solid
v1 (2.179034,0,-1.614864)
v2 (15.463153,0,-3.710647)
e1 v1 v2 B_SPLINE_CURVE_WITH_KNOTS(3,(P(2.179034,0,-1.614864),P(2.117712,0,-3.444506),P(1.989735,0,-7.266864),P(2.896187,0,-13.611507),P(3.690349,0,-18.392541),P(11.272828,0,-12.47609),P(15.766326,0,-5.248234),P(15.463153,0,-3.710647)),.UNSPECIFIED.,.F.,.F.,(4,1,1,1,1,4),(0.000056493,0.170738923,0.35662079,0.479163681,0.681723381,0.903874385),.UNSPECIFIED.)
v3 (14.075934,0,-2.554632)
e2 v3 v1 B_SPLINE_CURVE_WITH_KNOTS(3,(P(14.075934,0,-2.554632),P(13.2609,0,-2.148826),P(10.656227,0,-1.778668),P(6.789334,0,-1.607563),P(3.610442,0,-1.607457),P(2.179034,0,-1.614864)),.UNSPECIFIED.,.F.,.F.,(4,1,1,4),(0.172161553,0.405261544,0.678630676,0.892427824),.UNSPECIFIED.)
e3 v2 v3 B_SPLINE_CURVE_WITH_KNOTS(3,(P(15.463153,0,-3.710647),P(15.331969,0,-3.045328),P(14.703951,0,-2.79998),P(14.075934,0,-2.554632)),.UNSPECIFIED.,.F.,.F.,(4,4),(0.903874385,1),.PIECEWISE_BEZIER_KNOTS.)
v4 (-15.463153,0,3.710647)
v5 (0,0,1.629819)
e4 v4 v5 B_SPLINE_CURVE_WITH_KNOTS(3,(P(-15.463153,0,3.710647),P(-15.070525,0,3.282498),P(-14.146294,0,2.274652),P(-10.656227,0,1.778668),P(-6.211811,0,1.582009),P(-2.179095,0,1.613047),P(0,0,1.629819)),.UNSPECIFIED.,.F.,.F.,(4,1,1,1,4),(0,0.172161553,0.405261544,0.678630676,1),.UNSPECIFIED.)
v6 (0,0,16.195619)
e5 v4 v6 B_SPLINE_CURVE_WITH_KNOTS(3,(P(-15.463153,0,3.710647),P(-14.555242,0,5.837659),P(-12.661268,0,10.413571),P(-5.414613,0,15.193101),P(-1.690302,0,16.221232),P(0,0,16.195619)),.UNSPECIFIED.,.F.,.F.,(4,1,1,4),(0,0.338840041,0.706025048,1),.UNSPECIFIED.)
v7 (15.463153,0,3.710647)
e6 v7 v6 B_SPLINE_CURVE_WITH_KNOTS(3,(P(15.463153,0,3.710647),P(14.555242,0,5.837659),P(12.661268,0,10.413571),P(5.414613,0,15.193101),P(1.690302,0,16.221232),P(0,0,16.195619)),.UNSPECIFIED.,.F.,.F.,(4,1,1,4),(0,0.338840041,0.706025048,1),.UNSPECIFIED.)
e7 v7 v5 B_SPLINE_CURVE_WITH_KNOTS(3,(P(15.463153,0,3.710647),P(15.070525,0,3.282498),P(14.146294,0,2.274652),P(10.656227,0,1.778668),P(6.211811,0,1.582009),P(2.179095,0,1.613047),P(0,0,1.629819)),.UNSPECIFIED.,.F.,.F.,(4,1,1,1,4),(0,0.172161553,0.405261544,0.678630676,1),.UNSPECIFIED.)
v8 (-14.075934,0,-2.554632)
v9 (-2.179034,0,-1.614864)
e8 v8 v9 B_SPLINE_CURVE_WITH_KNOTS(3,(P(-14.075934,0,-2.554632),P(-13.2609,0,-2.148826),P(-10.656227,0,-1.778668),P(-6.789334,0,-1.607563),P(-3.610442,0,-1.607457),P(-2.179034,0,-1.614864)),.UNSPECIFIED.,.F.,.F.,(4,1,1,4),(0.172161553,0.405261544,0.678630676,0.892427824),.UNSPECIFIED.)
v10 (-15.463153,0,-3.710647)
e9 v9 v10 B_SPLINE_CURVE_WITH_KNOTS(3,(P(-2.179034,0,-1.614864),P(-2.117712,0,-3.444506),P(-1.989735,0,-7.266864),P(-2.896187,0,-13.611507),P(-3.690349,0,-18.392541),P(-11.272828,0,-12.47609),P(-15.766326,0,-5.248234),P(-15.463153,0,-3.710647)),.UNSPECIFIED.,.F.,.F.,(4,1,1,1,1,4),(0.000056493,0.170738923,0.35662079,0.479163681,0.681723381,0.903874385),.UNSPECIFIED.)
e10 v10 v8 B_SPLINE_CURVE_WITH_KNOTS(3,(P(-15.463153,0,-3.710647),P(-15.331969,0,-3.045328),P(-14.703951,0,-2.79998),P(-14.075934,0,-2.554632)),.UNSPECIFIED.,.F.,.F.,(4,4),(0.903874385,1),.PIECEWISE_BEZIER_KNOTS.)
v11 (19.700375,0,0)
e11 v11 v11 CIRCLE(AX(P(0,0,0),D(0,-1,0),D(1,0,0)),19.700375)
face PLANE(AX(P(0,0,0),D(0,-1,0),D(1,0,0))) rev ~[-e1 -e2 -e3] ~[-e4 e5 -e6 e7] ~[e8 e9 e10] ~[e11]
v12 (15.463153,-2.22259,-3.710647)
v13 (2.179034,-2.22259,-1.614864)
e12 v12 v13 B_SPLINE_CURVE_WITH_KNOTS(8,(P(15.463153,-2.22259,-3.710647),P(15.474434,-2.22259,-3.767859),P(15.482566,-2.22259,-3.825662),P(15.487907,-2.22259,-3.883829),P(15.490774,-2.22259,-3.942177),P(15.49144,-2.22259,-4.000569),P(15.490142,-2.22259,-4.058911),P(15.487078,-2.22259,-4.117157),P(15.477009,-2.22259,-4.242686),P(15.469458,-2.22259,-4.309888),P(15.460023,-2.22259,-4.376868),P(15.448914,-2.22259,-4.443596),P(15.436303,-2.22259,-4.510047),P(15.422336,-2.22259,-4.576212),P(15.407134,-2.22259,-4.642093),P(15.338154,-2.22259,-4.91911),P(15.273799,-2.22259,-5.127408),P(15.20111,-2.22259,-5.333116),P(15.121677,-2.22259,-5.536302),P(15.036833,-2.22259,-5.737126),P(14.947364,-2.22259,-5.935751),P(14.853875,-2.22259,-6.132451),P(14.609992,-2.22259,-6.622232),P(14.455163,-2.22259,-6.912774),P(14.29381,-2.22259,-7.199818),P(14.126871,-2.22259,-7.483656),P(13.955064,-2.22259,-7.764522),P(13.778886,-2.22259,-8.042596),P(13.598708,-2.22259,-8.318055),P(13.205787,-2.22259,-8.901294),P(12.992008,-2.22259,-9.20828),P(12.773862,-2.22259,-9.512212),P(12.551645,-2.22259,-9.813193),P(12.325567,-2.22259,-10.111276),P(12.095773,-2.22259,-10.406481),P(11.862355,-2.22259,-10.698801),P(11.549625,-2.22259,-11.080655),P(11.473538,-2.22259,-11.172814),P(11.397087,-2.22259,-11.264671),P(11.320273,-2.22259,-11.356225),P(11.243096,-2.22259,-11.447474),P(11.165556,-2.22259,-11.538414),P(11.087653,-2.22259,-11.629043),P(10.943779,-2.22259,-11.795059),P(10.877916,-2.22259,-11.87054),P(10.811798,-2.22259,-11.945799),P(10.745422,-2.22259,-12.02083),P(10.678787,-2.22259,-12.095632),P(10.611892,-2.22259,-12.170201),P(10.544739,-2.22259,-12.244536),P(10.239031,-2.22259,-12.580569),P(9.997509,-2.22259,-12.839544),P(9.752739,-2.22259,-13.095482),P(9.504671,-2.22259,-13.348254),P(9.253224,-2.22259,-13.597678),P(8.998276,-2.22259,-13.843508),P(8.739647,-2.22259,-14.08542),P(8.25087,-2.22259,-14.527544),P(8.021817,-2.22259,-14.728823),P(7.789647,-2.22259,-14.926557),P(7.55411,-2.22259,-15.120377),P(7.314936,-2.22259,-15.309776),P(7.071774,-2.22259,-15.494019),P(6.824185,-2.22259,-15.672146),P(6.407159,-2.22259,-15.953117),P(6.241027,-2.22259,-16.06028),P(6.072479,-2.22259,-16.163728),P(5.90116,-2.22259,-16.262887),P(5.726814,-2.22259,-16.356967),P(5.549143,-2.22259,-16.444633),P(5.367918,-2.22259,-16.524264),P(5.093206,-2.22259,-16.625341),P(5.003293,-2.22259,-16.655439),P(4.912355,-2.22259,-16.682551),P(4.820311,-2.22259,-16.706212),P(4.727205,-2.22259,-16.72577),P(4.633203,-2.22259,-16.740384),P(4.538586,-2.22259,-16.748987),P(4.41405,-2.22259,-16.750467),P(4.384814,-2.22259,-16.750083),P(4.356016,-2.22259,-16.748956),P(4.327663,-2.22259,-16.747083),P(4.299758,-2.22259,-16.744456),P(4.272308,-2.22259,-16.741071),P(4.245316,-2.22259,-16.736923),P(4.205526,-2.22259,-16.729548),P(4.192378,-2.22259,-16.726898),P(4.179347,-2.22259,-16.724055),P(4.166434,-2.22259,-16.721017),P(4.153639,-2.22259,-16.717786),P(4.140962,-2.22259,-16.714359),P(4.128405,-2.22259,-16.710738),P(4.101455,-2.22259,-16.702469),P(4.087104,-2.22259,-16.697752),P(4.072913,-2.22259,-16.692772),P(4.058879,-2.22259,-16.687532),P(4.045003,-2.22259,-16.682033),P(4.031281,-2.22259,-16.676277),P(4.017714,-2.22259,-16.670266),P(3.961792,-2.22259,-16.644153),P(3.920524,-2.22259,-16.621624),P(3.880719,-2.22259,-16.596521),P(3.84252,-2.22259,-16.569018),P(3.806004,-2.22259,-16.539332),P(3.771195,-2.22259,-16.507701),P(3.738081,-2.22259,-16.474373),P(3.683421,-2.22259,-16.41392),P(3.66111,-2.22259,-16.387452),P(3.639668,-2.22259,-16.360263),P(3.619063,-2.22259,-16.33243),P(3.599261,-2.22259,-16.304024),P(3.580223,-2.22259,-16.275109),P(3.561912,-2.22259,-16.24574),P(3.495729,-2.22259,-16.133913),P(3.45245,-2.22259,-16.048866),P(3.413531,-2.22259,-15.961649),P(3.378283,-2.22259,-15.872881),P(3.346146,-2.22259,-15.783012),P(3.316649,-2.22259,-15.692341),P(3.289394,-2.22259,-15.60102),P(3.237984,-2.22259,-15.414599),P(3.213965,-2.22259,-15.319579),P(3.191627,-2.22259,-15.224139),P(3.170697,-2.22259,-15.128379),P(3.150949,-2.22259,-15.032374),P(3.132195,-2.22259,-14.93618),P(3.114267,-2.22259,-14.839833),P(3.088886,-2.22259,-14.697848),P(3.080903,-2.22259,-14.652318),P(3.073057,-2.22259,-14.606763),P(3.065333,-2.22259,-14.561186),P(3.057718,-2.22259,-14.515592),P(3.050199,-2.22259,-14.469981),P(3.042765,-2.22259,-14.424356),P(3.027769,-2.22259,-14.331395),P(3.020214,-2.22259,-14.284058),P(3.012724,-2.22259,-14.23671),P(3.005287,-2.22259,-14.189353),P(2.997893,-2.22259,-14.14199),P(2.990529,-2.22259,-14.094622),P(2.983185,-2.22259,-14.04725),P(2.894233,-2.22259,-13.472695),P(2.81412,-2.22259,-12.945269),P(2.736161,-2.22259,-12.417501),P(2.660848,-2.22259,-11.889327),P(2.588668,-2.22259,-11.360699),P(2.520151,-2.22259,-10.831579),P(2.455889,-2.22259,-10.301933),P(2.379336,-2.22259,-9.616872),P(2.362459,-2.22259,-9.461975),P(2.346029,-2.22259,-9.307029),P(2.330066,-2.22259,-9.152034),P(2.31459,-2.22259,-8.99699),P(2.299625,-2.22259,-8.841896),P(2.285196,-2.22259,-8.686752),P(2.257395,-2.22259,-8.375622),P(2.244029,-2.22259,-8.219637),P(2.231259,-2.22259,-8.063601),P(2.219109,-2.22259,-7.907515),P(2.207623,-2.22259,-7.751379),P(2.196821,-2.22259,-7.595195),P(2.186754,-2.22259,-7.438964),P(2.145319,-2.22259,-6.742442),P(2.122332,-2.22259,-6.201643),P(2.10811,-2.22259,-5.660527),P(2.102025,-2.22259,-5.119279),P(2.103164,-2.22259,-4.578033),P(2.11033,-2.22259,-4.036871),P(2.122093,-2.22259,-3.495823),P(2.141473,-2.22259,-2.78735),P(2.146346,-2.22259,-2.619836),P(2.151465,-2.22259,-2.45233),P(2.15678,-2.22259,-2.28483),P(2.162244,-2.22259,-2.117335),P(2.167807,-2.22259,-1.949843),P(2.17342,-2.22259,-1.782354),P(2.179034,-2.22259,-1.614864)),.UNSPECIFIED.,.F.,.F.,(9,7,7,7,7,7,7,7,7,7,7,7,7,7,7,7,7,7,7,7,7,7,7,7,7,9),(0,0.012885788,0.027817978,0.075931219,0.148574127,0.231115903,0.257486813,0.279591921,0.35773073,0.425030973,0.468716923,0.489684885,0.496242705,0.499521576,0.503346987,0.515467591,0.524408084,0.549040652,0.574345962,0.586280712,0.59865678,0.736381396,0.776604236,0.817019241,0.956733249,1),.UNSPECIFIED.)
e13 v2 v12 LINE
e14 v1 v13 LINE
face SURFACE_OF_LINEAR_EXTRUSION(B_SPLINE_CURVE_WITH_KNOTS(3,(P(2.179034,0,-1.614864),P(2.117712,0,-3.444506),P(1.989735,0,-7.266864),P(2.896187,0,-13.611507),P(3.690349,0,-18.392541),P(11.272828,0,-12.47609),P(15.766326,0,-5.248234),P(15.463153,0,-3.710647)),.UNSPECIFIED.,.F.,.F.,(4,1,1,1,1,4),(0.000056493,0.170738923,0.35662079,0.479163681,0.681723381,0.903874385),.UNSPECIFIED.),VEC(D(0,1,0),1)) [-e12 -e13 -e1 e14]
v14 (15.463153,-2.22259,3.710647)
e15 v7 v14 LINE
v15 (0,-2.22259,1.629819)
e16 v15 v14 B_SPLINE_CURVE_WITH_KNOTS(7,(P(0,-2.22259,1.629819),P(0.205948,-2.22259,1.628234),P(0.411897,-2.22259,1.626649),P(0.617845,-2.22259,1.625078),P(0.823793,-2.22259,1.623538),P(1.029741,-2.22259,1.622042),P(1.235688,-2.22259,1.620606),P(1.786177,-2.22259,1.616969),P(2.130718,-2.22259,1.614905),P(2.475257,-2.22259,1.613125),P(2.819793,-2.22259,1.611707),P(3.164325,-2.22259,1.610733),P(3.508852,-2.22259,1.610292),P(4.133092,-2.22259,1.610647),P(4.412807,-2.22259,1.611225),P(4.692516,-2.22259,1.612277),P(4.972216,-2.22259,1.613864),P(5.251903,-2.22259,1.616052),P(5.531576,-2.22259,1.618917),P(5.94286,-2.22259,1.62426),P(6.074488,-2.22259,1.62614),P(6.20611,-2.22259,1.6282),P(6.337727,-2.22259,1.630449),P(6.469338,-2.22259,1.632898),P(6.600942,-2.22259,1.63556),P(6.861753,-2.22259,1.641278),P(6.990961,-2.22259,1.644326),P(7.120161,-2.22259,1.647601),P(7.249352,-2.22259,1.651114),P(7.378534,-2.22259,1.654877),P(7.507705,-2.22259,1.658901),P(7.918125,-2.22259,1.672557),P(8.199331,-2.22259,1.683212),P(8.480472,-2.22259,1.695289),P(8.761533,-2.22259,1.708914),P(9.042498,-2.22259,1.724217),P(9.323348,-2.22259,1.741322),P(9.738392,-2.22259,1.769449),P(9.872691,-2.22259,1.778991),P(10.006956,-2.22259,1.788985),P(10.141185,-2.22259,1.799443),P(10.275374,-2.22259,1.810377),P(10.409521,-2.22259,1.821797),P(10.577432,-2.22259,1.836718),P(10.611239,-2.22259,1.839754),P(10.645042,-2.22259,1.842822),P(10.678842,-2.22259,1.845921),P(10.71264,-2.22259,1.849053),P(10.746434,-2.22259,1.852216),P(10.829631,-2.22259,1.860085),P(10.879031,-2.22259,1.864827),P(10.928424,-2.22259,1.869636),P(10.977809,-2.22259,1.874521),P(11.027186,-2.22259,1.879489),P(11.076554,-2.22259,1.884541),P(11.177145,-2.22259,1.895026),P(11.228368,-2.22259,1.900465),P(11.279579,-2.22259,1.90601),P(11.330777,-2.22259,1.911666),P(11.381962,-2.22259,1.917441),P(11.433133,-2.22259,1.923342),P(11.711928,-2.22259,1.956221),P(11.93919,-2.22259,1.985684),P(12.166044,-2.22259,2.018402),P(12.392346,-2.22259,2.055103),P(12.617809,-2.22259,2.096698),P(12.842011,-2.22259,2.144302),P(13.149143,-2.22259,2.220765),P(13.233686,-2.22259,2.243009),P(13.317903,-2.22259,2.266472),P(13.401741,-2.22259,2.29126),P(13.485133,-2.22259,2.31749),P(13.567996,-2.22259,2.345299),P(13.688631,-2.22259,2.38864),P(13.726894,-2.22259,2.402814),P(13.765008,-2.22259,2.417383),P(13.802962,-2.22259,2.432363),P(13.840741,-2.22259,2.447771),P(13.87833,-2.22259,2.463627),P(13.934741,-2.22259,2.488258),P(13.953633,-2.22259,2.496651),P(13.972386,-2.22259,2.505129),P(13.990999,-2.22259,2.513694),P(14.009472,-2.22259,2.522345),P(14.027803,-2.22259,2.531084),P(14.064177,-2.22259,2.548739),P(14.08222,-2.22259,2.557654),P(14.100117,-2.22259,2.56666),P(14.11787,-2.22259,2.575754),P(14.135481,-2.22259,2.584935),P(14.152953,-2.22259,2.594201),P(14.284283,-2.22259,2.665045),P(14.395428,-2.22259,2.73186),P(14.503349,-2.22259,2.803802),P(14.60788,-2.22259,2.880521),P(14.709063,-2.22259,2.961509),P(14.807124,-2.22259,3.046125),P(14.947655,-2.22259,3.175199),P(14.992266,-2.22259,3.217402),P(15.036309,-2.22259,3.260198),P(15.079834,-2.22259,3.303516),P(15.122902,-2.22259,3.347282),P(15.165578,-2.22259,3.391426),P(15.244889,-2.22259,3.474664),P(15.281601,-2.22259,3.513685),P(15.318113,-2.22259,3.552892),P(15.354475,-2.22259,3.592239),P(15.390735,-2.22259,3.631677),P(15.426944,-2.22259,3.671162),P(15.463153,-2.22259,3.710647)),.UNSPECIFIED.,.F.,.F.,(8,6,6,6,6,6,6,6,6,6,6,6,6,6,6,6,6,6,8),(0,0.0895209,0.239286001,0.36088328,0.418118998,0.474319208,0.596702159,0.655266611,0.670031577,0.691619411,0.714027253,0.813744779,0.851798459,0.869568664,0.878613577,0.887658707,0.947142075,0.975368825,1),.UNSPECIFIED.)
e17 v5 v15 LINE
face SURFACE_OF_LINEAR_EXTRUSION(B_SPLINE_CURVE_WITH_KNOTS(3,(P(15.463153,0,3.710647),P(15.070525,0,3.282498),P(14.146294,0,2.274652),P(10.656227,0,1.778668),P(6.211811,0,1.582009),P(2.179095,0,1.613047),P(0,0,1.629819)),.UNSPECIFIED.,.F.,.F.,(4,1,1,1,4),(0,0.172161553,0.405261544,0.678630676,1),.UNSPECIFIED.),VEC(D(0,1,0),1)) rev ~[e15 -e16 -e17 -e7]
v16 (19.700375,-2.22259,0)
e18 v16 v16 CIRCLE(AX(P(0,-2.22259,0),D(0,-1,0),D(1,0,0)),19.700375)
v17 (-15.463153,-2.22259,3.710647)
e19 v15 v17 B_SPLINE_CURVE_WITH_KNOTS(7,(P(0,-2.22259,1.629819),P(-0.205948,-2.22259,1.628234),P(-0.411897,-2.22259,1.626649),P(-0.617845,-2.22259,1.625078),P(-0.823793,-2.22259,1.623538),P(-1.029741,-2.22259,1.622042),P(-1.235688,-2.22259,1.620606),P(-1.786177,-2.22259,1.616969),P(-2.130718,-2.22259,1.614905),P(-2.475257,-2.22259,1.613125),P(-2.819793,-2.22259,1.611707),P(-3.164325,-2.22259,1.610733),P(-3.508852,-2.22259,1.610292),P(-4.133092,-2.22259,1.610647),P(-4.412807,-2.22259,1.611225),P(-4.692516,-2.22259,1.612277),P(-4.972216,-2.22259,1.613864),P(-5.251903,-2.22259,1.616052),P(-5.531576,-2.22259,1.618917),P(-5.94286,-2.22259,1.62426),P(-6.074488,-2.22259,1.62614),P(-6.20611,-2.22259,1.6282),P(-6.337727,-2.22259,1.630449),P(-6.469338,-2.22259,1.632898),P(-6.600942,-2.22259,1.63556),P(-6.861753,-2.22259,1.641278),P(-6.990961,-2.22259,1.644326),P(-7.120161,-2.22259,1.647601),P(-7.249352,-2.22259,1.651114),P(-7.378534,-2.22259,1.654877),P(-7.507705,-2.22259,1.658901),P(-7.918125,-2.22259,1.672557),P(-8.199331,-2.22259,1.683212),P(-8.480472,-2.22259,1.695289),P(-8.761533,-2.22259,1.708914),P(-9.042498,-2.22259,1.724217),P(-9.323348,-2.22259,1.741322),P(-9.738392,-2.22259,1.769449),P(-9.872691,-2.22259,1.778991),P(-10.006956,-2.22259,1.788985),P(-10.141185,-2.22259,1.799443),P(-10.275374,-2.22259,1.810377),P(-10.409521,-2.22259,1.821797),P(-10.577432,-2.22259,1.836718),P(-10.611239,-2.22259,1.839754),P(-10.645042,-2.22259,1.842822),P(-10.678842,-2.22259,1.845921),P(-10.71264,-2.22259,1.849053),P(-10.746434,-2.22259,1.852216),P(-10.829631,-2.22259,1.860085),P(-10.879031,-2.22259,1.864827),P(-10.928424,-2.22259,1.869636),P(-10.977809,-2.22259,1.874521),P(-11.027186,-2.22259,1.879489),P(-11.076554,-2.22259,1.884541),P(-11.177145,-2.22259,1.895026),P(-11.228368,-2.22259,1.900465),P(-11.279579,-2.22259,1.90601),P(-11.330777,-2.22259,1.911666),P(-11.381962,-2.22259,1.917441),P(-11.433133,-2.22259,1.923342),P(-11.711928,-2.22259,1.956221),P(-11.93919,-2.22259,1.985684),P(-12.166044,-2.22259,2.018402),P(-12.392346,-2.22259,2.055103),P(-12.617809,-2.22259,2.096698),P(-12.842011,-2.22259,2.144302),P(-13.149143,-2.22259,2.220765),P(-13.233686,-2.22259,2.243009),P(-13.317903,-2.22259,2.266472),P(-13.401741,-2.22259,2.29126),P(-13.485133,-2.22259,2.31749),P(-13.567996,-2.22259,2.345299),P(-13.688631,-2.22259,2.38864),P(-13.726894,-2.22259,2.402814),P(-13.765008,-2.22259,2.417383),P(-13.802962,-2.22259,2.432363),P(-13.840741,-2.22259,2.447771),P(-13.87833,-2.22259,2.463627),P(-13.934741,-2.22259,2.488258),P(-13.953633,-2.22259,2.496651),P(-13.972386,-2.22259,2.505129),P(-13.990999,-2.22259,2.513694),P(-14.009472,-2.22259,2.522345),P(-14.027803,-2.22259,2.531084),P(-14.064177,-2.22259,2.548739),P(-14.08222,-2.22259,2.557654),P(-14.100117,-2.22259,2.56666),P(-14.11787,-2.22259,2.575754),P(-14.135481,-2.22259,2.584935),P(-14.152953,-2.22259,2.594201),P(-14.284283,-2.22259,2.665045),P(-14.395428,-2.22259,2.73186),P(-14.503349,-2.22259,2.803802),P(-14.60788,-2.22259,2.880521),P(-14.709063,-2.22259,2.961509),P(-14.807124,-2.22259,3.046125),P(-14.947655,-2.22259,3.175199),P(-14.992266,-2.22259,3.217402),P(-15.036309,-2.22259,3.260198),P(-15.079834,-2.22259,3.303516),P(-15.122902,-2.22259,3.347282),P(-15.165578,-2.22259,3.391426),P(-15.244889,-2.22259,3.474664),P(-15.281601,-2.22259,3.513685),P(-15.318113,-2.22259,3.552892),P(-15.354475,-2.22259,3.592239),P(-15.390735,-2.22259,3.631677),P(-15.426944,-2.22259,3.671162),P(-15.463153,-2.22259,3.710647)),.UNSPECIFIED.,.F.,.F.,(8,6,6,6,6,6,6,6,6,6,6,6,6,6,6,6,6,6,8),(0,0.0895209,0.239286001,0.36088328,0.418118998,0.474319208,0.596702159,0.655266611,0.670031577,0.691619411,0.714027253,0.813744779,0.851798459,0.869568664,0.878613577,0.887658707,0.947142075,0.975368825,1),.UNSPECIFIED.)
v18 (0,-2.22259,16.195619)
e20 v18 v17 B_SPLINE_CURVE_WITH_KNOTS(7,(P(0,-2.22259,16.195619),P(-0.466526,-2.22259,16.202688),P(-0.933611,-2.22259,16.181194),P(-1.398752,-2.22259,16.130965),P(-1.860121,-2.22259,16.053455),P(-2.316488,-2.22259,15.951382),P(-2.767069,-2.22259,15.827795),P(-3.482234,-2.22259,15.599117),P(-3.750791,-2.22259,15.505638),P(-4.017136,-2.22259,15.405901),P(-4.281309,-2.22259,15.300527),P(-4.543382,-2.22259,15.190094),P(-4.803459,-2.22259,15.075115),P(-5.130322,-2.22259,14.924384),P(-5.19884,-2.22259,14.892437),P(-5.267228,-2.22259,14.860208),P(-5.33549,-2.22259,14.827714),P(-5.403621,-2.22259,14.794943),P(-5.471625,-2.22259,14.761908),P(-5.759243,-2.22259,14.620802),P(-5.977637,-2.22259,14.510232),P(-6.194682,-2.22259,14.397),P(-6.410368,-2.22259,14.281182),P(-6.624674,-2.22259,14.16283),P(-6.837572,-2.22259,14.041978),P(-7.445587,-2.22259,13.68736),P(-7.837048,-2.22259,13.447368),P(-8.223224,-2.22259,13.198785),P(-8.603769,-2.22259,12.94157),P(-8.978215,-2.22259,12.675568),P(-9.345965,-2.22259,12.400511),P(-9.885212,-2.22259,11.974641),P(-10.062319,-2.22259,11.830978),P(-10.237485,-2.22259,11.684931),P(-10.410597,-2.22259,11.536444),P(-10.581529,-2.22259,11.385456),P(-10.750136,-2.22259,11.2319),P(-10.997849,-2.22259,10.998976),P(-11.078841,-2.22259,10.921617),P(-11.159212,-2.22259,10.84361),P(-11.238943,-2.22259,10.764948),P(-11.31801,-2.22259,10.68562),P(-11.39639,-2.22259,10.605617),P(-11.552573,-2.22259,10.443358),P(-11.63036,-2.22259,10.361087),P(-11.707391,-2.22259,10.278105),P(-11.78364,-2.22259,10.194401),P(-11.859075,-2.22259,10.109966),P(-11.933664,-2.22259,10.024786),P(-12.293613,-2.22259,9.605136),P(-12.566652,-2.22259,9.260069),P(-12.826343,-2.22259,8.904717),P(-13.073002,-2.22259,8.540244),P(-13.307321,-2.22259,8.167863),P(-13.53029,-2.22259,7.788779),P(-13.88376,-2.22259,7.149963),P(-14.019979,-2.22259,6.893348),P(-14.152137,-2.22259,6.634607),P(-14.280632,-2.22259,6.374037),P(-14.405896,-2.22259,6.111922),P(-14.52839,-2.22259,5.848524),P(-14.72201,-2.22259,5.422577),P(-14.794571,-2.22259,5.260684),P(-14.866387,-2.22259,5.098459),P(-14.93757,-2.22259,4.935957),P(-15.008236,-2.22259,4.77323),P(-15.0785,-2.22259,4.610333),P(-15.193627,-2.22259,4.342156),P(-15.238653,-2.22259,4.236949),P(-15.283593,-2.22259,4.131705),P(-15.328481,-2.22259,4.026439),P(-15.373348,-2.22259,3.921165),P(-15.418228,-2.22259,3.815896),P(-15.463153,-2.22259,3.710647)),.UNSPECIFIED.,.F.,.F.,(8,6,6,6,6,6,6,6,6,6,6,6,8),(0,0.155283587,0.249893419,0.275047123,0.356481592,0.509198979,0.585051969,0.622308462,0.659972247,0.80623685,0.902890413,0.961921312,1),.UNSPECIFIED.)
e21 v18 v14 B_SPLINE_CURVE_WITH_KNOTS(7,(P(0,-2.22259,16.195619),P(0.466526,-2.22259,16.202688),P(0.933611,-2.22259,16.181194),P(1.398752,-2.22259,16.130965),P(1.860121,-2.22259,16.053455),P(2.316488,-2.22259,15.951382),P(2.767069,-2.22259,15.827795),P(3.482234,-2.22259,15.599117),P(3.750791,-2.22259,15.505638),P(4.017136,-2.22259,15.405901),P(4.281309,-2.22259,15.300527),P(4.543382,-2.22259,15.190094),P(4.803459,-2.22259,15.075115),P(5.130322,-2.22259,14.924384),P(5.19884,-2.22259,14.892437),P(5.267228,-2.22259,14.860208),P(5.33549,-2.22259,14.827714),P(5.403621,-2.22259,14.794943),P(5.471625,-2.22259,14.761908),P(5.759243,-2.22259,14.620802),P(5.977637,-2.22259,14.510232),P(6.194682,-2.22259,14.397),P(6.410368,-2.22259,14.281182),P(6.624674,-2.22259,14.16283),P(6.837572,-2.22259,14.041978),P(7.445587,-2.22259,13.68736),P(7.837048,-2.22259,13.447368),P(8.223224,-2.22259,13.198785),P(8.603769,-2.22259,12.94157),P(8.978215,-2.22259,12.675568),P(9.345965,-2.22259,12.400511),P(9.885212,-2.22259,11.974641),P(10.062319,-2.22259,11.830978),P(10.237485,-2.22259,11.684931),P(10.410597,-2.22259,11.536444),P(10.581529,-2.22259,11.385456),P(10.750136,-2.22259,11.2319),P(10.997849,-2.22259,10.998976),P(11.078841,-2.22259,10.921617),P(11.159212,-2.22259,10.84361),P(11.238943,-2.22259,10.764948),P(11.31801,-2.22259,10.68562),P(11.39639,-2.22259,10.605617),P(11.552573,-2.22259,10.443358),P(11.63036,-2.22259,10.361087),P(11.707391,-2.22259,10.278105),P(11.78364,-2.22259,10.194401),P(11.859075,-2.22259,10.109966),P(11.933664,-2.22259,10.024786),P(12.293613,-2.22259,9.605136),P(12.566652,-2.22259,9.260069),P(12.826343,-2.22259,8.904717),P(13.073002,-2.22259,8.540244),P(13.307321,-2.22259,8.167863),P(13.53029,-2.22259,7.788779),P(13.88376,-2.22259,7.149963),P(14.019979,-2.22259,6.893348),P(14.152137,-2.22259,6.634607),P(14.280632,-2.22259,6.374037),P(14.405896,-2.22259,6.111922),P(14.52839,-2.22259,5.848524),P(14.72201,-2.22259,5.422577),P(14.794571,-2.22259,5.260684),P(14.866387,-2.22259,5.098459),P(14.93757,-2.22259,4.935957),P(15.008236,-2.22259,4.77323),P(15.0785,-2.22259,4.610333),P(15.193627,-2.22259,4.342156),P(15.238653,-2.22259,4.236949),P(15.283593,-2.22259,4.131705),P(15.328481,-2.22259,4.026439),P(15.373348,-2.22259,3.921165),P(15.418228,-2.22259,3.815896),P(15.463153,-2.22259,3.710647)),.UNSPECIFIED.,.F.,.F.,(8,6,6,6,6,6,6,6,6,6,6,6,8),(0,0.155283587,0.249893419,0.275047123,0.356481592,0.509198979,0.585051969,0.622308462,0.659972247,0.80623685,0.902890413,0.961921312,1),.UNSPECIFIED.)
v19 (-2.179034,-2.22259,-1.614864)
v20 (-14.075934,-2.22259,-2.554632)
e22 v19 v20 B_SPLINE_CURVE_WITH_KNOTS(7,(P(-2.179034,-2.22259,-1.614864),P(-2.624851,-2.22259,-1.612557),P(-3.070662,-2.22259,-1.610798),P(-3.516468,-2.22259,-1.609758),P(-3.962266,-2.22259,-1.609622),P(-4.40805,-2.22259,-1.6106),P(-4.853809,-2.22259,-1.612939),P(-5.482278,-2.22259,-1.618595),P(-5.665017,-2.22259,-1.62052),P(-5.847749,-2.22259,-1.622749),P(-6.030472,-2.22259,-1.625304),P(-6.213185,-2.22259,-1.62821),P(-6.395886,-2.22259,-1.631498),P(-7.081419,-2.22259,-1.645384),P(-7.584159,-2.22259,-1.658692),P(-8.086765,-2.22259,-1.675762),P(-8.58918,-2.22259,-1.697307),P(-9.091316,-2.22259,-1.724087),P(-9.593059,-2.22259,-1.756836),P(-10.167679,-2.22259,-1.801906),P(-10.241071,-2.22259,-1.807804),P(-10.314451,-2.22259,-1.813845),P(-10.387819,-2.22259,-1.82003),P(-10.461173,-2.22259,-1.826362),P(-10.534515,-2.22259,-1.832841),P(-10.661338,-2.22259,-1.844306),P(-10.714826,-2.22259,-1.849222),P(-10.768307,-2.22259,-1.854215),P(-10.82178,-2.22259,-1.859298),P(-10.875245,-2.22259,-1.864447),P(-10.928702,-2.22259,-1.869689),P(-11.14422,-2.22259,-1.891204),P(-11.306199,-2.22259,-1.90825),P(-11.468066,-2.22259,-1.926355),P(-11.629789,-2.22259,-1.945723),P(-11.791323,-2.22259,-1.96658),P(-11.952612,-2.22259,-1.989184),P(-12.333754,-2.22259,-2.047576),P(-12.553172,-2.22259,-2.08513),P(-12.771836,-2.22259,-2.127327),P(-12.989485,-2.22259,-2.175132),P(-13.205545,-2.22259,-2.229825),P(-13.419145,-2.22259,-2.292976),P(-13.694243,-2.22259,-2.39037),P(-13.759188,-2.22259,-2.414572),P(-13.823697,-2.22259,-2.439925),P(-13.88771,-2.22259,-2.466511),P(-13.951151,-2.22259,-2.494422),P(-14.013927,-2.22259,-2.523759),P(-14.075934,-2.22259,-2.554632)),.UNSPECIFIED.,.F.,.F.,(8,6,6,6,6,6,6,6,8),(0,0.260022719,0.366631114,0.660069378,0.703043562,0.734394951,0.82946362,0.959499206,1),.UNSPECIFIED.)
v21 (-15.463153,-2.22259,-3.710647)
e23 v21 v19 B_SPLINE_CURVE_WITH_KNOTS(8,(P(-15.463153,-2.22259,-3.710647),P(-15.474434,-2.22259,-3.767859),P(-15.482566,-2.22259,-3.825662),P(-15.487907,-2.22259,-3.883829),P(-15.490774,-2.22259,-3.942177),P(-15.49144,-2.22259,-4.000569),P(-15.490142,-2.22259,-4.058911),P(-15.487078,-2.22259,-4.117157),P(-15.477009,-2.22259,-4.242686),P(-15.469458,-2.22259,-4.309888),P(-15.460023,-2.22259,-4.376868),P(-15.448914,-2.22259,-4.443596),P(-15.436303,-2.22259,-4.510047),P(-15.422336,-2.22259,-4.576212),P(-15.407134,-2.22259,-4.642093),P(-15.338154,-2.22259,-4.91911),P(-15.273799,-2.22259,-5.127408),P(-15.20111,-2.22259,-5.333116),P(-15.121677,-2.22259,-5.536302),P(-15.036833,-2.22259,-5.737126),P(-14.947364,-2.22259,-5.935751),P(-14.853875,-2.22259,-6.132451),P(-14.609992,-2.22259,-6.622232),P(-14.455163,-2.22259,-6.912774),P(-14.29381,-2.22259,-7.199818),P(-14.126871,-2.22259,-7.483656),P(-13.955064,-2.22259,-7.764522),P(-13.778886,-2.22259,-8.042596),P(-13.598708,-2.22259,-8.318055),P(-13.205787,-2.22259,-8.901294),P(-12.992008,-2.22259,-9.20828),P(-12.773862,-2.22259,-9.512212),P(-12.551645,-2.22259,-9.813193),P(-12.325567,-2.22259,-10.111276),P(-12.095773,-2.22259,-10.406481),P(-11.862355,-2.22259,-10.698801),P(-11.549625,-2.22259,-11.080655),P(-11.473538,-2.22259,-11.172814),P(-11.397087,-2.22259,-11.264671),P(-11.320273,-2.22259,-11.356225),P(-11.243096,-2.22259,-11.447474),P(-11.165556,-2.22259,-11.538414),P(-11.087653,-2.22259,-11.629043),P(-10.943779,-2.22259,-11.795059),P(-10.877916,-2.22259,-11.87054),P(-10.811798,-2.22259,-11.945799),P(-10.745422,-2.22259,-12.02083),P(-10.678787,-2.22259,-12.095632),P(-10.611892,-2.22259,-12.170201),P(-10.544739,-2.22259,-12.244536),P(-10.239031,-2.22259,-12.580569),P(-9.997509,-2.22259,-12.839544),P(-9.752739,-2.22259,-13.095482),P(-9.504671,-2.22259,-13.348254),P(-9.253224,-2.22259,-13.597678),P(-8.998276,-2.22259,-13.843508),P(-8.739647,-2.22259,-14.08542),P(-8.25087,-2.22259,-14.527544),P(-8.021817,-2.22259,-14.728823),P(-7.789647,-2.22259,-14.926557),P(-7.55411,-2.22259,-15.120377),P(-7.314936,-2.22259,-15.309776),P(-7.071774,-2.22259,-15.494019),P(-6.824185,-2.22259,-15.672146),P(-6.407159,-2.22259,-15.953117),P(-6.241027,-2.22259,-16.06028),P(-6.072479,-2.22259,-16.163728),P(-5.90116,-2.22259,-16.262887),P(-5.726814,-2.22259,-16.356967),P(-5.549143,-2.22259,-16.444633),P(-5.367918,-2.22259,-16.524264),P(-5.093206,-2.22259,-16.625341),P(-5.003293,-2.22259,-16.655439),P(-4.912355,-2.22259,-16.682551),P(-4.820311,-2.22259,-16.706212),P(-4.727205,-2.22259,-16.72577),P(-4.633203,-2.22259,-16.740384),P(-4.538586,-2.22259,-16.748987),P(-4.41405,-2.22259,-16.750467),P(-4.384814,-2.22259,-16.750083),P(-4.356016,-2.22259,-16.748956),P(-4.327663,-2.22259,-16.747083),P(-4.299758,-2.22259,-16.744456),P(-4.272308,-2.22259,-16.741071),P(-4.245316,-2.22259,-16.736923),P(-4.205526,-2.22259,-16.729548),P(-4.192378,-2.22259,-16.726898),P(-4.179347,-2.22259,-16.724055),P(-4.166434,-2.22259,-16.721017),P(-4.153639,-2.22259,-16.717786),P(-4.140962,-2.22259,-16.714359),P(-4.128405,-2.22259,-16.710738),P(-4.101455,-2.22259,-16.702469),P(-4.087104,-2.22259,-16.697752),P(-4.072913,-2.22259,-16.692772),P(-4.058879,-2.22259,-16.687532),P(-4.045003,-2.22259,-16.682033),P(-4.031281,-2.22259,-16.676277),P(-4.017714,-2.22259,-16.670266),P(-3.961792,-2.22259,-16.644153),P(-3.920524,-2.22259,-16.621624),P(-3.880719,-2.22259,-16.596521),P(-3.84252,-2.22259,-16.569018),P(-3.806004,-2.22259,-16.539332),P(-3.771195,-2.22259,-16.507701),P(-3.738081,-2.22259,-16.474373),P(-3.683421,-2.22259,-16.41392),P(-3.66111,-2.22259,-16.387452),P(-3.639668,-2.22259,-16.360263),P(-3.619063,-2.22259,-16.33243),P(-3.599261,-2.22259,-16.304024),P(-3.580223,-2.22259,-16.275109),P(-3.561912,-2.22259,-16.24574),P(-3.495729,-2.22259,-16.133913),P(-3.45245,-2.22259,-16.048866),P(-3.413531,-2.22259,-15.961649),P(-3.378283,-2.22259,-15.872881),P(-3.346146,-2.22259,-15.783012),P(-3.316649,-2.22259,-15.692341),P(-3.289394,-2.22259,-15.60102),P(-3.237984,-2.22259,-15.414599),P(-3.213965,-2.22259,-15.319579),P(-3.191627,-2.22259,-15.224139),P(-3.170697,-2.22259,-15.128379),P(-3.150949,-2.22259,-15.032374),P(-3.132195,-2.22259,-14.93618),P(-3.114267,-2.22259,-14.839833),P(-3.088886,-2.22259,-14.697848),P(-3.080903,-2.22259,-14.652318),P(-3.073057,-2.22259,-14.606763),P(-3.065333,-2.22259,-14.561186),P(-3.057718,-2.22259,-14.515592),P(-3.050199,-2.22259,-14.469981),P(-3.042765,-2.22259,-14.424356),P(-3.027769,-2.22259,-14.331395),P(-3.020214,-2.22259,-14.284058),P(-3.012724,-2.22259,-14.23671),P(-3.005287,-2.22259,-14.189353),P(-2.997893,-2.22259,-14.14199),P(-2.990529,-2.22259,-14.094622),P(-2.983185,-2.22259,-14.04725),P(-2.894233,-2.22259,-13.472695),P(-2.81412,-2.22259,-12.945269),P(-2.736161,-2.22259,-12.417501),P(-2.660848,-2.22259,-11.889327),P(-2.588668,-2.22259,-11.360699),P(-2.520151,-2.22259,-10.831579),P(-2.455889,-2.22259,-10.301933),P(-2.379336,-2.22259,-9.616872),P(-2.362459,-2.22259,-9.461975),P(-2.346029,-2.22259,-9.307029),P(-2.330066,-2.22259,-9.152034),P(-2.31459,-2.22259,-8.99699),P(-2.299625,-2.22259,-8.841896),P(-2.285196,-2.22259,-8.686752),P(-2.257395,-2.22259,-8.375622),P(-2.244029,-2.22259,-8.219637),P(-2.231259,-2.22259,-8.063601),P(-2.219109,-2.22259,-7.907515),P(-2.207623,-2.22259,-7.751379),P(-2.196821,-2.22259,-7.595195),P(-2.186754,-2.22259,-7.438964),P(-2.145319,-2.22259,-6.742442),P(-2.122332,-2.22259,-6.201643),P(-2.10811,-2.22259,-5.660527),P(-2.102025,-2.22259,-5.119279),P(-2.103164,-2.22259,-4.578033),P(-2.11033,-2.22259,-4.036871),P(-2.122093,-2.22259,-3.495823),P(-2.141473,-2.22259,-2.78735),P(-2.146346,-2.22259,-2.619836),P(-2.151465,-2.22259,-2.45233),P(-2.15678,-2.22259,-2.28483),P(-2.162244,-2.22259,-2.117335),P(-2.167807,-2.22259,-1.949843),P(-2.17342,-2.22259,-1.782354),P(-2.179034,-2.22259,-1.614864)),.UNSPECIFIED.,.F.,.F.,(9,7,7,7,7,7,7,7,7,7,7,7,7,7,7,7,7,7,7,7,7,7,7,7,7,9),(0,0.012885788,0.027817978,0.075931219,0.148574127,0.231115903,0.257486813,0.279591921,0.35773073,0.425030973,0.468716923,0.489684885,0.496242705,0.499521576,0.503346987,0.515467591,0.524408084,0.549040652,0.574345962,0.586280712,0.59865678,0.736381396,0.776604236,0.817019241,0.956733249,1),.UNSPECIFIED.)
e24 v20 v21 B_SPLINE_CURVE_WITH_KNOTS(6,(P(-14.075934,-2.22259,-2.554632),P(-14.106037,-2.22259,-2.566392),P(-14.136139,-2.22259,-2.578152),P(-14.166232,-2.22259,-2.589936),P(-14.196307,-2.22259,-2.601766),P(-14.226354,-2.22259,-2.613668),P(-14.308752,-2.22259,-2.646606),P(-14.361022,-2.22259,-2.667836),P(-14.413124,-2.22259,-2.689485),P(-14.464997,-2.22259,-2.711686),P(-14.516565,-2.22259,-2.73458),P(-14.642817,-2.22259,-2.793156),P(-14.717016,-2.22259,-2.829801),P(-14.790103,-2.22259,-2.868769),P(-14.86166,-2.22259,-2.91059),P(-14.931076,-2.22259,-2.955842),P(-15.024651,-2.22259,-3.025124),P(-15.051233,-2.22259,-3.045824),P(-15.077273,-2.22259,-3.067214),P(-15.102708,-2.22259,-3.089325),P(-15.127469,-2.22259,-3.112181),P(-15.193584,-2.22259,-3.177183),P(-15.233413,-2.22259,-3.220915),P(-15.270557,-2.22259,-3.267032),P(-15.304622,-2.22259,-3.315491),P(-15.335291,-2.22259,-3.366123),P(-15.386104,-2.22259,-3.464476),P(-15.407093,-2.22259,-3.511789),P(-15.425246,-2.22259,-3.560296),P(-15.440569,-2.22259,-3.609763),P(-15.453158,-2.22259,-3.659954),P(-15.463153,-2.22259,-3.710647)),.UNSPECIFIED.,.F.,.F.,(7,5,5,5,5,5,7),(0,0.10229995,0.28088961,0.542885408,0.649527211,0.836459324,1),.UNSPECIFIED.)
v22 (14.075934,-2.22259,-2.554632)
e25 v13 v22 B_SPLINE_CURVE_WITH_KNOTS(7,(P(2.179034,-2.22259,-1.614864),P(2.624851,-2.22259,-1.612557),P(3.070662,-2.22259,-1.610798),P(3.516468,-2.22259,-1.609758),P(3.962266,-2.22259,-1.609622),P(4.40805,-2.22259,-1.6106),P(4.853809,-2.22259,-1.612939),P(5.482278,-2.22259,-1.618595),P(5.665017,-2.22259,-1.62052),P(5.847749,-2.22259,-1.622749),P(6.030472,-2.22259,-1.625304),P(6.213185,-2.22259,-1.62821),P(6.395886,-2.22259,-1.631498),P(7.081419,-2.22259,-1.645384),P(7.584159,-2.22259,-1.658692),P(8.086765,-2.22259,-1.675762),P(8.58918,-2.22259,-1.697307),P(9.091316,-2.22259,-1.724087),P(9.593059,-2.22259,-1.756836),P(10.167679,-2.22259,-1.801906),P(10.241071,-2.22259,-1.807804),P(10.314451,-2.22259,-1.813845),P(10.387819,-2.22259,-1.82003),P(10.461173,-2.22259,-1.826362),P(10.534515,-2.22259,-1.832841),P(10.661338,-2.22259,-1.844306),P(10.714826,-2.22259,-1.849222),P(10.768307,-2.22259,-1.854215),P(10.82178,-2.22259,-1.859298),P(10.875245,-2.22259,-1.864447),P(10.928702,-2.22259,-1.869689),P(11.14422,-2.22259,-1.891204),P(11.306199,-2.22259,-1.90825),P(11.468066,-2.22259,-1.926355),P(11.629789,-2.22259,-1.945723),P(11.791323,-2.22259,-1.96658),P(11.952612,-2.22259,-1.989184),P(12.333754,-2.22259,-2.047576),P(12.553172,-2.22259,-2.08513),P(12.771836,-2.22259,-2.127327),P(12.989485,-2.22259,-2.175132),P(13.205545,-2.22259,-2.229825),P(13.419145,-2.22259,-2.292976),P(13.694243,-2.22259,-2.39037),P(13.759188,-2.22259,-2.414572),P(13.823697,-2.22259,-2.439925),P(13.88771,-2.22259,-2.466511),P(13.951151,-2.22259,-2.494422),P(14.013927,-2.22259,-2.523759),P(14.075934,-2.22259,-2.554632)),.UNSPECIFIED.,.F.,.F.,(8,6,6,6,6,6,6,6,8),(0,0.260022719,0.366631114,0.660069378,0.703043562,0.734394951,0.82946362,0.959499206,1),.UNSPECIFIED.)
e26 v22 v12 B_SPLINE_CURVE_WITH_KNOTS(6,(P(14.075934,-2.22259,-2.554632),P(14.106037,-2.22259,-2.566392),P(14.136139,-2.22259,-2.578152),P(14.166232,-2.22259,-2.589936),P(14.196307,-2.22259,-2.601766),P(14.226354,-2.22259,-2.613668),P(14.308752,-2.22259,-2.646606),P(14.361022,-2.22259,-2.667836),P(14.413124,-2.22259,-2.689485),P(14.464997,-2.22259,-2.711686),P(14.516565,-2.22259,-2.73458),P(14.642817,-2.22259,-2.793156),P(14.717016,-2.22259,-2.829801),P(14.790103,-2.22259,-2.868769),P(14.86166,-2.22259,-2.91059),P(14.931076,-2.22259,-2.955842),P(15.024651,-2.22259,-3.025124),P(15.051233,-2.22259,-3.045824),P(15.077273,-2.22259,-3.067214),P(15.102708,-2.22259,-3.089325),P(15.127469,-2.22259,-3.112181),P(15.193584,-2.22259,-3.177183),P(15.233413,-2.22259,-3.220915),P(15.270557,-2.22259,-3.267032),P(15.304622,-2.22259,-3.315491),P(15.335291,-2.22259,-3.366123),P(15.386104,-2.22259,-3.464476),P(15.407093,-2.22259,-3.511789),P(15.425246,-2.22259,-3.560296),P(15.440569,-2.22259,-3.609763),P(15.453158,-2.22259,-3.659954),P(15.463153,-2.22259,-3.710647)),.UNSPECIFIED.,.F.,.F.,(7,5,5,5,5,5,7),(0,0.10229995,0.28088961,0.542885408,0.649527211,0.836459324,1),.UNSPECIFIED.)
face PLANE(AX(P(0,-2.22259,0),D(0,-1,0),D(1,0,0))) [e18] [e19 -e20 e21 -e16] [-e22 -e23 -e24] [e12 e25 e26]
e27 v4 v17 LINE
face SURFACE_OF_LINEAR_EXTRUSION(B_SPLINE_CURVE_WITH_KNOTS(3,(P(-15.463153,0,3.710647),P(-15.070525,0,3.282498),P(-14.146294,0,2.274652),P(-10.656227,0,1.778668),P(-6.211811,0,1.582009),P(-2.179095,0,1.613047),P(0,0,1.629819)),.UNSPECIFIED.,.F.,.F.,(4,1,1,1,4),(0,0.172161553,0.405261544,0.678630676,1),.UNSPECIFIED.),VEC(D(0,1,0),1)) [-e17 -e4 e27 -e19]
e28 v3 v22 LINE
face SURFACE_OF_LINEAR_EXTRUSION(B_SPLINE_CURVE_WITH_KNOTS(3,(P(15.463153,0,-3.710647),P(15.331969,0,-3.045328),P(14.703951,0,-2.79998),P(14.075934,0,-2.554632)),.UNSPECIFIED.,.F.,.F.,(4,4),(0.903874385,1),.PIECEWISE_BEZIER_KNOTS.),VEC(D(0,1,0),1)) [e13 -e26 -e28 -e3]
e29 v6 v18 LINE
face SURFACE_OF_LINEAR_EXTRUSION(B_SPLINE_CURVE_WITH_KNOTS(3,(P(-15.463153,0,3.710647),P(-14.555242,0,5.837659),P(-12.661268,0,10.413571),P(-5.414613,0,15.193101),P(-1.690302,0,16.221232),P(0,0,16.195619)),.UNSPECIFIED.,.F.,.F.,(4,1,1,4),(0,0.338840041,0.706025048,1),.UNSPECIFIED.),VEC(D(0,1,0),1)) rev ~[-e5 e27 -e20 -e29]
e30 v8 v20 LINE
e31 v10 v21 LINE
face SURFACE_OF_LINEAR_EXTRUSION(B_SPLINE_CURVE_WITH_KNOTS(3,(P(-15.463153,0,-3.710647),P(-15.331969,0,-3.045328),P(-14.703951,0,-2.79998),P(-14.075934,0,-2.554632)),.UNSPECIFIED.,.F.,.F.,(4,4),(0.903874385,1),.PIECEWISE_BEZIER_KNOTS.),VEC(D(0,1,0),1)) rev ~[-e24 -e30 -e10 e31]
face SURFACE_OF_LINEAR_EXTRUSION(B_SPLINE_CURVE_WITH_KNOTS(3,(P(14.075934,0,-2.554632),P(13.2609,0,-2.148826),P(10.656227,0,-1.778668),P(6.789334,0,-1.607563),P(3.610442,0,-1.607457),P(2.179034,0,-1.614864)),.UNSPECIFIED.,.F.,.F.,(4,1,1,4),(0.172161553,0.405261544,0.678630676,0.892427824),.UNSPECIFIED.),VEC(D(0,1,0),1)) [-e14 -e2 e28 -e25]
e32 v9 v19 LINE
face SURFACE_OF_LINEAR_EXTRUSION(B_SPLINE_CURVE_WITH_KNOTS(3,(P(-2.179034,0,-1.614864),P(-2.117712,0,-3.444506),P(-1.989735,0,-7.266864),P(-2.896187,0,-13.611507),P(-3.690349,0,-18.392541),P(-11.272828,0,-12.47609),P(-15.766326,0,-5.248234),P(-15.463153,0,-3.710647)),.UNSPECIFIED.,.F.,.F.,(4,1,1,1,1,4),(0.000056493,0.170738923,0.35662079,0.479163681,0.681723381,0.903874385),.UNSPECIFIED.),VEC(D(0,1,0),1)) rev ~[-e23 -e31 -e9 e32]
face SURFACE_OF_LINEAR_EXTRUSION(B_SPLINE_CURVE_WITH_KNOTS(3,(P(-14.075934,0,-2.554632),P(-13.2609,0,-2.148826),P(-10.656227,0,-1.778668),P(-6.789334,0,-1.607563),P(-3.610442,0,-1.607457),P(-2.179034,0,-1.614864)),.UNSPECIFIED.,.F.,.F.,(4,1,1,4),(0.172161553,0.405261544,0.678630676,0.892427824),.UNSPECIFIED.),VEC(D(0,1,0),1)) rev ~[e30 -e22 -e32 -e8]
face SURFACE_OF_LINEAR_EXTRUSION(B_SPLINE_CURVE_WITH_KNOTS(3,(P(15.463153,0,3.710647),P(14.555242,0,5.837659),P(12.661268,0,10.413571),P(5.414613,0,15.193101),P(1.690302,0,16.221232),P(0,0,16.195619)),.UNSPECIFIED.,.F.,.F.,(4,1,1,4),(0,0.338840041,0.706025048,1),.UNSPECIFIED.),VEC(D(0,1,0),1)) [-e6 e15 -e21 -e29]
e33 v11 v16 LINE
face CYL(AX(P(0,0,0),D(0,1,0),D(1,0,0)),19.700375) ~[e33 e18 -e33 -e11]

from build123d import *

# Parameters (mm, degrees)
F0_R     = 19.7003752355
F2_DEPTH = 2.22259
F3_DEPTH = 50.8


with BuildPart() as f2:
    # F0 (on Front) → F2 (new body)
    with BuildSketch(Plane.XZ):
        Circle(F0_R)
    extrude(amount=F2_DEPTH)

    # F1 (on Front) → F3 (cut)
    with BuildSketch(Plane.XZ):
        with BuildLine():
            add(Edge.make_bspline(
                [(-15.4631529003, 3.7106473465), (-14.5552424255, 5.8376593389), (-12.6612678067, 10.4135707044), (-5.4146128635, 15.1931010605), (-1.6903024735, 16.2212316653), (0, 16.1956194788)],
                knots=[0, 0, 0, 0, 0.3388400409, 0.7060250476, 1, 1, 1, 1], degree=3))
            add(Edge.make_bspline(
                [(-15.4631529003, 3.7106473465), (-15.0705248118, 3.2824982893), (-14.1462936866, 2.2746521968), (-10.6562267886, 1.7786678876), (-6.2118109856, 1.5820085187), (-2.1790945776, 1.6130470288), (0, 1.6298188129)],
                knots=[0, 0, 0, 0, 0.1721615526, 0.4052615442, 0.6786306765, 1, 1, 1, 1], degree=3))
            add(Edge.make_bspline(
                [(15.4631529003, 3.7106473465), (15.0705248118, 3.2824982893), (14.1462936866, 2.2746521968), (10.6562267886, 1.7786678876), (6.2118109856, 1.5820085187), (2.1790945776, 1.6130470288), (0, 1.6298188129)],
                knots=[0, 0, 0, 0, 0.1721615526, 0.4052615442, 0.6786306765, 1, 1, 1, 1], degree=3))
            add(Edge.make_bspline(
                [(15.4631529003, 3.7106473465), (14.5552424255, 5.8376593389), (12.6612678067, 10.4135707044), (5.4146128635, 15.1931010605), (1.6903024735, 16.2212316653), (0, 16.1956194788)],
                knots=[0, 0, 0, 0, 0.3388400409, 0.7060250476, 1, 1, 1, 1], degree=3))
        make_face()
        with BuildLine():
            add(Edge.make_bspline(
                [(-15.4631529003, -3.7106473465), (-15.3319688501, -3.0453276363), (-14.7039514029, -2.7999797142), (-14.0759339556, -2.554631792)],
                knots=[0.9038743853, 0.9038743853, 0.9038743853, 0.9038743853, 1, 1, 1, 1], degree=3))
            add(Edge.make_bspline(
                [(-15.4631529003, -3.7106473465), (-15.0705248118, -3.2824982893), (-14.6778967233, -2.8543492322), (-14.0759339556, -2.554631792)],
                knots=[0, 0, 0, 0, 0.1721615526, 0.1721615526, 0.1721615526, 0.1721615526], degree=3))
        make_face()
        with BuildLine():
            add(Edge.make_bspline(
                [(14.0759339556, -2.554631792), (13.2608999715, -2.1488261302), (10.6562267886, -1.7786678876), (6.7893336665, -1.6075631137), (3.6104419525, -1.6074565323), (2.1790336875, -1.6148637863)],
                knots=[0.1721615526, 0.1721615526, 0.1721615526, 0.1721615526, 0.4052615442, 0.6786306765, 0.8924278239, 0.8924278239, 0.8924278239, 0.8924278239], degree=3))
            add(Edge.make_bspline(
                [(2.1790336877, -1.6148637864), (2.1177120023, -3.4445059013), (1.9897349933, -7.2668640171), (2.8961871372, -13.6115071942), (3.6903489801, -18.392541145), (11.2728278149, -12.4760903279), (15.7663256662, -5.2482337856), (15.4631529003, -3.7106473465)],
                knots=[5.64935e-05, 5.64935e-05, 5.64935e-05, 5.64935e-05, 0.170738923, 0.3566207898, 0.4791636808, 0.6817233812, 0.9038743853, 0.9038743853, 0.9038743853, 0.9038743853], degree=3))
            add(Edge.make_bspline(
                [(15.4631529003, -3.7106473465), (15.0705248118, -3.2824982893), (14.6778967233, -2.8543492322), (14.0759339556, -2.554631792)],
                knots=[0, 0, 0, 0, 0.1721615526, 0.1721615526, 0.1721615526, 0.1721615526], degree=3))
        make_face()
        with BuildLine():
            add(Edge.make_bspline(
                [(-15.4631529003, -3.7106473465), (-15.0705248118, -3.2824982893), (-14.6778967233, -2.8543492322), (-14.0759339556, -2.554631792)],
                knots=[0, 0, 0, 0, 0.1721615526, 0.1721615526, 0.1721615526, 0.1721615526], degree=3))
            add(Edge.make_bspline(
                [(-2.1790336877, -1.6148637864), (-2.1177120023, -3.4445059013), (-1.9897349933, -7.2668640171), (-2.8961871372, -13.6115071942), (-3.6903489801, -18.392541145), (-11.2728278149, -12.4760903279), (-15.7663256662, -5.2482337856), (-15.4631529003, -3.7106473465)],
                knots=[5.64935e-05, 5.64935e-05, 5.64935e-05, 5.64935e-05, 0.170738923, 0.3566207898, 0.4791636808, 0.6817233812, 0.9038743853, 0.9038743853, 0.9038743853, 0.9038743853], degree=3))
            add(Edge.make_bspline(
                [(-14.0759339556, -2.554631792), (-13.2608999715, -2.1488261302), (-10.6562267886, -1.7786678876), (-6.7893336665, -1.6075631137), (-3.6104419525, -1.6074565323), (-2.1790336875, -1.6148637863)],
                knots=[0.1721615526, 0.1721615526, 0.1721615526, 0.1721615526, 0.4052615442, 0.6786306765, 0.8924278239, 0.8924278239, 0.8924278239, 0.8924278239], degree=3))
        make_face()
        with BuildLine():
            add(Edge.make_bspline(
                [(15.4631529003, -3.7106473465), (15.0705248118, -3.2824982893), (14.6778967233, -2.8543492322), (14.0759339556, -2.554631792)],
                knots=[0, 0, 0, 0, 0.1721615526, 0.1721615526, 0.1721615526, 0.1721615526], degree=3))
            add(Edge.make_bspline(
                [(15.4631529003, -3.7106473465), (15.3319688501, -3.0453276363), (14.7039514029, -2.7999797142), (14.0759339556, -2.554631792)],
                knots=[0.9038743853, 0.9038743853, 0.9038743853, 0.9038743853, 1, 1, 1, 1], degree=3))
        make_face()
    extrude(amount=F3_DEPTH, mode=Mode.SUBTRACT)


solid = f2.part
